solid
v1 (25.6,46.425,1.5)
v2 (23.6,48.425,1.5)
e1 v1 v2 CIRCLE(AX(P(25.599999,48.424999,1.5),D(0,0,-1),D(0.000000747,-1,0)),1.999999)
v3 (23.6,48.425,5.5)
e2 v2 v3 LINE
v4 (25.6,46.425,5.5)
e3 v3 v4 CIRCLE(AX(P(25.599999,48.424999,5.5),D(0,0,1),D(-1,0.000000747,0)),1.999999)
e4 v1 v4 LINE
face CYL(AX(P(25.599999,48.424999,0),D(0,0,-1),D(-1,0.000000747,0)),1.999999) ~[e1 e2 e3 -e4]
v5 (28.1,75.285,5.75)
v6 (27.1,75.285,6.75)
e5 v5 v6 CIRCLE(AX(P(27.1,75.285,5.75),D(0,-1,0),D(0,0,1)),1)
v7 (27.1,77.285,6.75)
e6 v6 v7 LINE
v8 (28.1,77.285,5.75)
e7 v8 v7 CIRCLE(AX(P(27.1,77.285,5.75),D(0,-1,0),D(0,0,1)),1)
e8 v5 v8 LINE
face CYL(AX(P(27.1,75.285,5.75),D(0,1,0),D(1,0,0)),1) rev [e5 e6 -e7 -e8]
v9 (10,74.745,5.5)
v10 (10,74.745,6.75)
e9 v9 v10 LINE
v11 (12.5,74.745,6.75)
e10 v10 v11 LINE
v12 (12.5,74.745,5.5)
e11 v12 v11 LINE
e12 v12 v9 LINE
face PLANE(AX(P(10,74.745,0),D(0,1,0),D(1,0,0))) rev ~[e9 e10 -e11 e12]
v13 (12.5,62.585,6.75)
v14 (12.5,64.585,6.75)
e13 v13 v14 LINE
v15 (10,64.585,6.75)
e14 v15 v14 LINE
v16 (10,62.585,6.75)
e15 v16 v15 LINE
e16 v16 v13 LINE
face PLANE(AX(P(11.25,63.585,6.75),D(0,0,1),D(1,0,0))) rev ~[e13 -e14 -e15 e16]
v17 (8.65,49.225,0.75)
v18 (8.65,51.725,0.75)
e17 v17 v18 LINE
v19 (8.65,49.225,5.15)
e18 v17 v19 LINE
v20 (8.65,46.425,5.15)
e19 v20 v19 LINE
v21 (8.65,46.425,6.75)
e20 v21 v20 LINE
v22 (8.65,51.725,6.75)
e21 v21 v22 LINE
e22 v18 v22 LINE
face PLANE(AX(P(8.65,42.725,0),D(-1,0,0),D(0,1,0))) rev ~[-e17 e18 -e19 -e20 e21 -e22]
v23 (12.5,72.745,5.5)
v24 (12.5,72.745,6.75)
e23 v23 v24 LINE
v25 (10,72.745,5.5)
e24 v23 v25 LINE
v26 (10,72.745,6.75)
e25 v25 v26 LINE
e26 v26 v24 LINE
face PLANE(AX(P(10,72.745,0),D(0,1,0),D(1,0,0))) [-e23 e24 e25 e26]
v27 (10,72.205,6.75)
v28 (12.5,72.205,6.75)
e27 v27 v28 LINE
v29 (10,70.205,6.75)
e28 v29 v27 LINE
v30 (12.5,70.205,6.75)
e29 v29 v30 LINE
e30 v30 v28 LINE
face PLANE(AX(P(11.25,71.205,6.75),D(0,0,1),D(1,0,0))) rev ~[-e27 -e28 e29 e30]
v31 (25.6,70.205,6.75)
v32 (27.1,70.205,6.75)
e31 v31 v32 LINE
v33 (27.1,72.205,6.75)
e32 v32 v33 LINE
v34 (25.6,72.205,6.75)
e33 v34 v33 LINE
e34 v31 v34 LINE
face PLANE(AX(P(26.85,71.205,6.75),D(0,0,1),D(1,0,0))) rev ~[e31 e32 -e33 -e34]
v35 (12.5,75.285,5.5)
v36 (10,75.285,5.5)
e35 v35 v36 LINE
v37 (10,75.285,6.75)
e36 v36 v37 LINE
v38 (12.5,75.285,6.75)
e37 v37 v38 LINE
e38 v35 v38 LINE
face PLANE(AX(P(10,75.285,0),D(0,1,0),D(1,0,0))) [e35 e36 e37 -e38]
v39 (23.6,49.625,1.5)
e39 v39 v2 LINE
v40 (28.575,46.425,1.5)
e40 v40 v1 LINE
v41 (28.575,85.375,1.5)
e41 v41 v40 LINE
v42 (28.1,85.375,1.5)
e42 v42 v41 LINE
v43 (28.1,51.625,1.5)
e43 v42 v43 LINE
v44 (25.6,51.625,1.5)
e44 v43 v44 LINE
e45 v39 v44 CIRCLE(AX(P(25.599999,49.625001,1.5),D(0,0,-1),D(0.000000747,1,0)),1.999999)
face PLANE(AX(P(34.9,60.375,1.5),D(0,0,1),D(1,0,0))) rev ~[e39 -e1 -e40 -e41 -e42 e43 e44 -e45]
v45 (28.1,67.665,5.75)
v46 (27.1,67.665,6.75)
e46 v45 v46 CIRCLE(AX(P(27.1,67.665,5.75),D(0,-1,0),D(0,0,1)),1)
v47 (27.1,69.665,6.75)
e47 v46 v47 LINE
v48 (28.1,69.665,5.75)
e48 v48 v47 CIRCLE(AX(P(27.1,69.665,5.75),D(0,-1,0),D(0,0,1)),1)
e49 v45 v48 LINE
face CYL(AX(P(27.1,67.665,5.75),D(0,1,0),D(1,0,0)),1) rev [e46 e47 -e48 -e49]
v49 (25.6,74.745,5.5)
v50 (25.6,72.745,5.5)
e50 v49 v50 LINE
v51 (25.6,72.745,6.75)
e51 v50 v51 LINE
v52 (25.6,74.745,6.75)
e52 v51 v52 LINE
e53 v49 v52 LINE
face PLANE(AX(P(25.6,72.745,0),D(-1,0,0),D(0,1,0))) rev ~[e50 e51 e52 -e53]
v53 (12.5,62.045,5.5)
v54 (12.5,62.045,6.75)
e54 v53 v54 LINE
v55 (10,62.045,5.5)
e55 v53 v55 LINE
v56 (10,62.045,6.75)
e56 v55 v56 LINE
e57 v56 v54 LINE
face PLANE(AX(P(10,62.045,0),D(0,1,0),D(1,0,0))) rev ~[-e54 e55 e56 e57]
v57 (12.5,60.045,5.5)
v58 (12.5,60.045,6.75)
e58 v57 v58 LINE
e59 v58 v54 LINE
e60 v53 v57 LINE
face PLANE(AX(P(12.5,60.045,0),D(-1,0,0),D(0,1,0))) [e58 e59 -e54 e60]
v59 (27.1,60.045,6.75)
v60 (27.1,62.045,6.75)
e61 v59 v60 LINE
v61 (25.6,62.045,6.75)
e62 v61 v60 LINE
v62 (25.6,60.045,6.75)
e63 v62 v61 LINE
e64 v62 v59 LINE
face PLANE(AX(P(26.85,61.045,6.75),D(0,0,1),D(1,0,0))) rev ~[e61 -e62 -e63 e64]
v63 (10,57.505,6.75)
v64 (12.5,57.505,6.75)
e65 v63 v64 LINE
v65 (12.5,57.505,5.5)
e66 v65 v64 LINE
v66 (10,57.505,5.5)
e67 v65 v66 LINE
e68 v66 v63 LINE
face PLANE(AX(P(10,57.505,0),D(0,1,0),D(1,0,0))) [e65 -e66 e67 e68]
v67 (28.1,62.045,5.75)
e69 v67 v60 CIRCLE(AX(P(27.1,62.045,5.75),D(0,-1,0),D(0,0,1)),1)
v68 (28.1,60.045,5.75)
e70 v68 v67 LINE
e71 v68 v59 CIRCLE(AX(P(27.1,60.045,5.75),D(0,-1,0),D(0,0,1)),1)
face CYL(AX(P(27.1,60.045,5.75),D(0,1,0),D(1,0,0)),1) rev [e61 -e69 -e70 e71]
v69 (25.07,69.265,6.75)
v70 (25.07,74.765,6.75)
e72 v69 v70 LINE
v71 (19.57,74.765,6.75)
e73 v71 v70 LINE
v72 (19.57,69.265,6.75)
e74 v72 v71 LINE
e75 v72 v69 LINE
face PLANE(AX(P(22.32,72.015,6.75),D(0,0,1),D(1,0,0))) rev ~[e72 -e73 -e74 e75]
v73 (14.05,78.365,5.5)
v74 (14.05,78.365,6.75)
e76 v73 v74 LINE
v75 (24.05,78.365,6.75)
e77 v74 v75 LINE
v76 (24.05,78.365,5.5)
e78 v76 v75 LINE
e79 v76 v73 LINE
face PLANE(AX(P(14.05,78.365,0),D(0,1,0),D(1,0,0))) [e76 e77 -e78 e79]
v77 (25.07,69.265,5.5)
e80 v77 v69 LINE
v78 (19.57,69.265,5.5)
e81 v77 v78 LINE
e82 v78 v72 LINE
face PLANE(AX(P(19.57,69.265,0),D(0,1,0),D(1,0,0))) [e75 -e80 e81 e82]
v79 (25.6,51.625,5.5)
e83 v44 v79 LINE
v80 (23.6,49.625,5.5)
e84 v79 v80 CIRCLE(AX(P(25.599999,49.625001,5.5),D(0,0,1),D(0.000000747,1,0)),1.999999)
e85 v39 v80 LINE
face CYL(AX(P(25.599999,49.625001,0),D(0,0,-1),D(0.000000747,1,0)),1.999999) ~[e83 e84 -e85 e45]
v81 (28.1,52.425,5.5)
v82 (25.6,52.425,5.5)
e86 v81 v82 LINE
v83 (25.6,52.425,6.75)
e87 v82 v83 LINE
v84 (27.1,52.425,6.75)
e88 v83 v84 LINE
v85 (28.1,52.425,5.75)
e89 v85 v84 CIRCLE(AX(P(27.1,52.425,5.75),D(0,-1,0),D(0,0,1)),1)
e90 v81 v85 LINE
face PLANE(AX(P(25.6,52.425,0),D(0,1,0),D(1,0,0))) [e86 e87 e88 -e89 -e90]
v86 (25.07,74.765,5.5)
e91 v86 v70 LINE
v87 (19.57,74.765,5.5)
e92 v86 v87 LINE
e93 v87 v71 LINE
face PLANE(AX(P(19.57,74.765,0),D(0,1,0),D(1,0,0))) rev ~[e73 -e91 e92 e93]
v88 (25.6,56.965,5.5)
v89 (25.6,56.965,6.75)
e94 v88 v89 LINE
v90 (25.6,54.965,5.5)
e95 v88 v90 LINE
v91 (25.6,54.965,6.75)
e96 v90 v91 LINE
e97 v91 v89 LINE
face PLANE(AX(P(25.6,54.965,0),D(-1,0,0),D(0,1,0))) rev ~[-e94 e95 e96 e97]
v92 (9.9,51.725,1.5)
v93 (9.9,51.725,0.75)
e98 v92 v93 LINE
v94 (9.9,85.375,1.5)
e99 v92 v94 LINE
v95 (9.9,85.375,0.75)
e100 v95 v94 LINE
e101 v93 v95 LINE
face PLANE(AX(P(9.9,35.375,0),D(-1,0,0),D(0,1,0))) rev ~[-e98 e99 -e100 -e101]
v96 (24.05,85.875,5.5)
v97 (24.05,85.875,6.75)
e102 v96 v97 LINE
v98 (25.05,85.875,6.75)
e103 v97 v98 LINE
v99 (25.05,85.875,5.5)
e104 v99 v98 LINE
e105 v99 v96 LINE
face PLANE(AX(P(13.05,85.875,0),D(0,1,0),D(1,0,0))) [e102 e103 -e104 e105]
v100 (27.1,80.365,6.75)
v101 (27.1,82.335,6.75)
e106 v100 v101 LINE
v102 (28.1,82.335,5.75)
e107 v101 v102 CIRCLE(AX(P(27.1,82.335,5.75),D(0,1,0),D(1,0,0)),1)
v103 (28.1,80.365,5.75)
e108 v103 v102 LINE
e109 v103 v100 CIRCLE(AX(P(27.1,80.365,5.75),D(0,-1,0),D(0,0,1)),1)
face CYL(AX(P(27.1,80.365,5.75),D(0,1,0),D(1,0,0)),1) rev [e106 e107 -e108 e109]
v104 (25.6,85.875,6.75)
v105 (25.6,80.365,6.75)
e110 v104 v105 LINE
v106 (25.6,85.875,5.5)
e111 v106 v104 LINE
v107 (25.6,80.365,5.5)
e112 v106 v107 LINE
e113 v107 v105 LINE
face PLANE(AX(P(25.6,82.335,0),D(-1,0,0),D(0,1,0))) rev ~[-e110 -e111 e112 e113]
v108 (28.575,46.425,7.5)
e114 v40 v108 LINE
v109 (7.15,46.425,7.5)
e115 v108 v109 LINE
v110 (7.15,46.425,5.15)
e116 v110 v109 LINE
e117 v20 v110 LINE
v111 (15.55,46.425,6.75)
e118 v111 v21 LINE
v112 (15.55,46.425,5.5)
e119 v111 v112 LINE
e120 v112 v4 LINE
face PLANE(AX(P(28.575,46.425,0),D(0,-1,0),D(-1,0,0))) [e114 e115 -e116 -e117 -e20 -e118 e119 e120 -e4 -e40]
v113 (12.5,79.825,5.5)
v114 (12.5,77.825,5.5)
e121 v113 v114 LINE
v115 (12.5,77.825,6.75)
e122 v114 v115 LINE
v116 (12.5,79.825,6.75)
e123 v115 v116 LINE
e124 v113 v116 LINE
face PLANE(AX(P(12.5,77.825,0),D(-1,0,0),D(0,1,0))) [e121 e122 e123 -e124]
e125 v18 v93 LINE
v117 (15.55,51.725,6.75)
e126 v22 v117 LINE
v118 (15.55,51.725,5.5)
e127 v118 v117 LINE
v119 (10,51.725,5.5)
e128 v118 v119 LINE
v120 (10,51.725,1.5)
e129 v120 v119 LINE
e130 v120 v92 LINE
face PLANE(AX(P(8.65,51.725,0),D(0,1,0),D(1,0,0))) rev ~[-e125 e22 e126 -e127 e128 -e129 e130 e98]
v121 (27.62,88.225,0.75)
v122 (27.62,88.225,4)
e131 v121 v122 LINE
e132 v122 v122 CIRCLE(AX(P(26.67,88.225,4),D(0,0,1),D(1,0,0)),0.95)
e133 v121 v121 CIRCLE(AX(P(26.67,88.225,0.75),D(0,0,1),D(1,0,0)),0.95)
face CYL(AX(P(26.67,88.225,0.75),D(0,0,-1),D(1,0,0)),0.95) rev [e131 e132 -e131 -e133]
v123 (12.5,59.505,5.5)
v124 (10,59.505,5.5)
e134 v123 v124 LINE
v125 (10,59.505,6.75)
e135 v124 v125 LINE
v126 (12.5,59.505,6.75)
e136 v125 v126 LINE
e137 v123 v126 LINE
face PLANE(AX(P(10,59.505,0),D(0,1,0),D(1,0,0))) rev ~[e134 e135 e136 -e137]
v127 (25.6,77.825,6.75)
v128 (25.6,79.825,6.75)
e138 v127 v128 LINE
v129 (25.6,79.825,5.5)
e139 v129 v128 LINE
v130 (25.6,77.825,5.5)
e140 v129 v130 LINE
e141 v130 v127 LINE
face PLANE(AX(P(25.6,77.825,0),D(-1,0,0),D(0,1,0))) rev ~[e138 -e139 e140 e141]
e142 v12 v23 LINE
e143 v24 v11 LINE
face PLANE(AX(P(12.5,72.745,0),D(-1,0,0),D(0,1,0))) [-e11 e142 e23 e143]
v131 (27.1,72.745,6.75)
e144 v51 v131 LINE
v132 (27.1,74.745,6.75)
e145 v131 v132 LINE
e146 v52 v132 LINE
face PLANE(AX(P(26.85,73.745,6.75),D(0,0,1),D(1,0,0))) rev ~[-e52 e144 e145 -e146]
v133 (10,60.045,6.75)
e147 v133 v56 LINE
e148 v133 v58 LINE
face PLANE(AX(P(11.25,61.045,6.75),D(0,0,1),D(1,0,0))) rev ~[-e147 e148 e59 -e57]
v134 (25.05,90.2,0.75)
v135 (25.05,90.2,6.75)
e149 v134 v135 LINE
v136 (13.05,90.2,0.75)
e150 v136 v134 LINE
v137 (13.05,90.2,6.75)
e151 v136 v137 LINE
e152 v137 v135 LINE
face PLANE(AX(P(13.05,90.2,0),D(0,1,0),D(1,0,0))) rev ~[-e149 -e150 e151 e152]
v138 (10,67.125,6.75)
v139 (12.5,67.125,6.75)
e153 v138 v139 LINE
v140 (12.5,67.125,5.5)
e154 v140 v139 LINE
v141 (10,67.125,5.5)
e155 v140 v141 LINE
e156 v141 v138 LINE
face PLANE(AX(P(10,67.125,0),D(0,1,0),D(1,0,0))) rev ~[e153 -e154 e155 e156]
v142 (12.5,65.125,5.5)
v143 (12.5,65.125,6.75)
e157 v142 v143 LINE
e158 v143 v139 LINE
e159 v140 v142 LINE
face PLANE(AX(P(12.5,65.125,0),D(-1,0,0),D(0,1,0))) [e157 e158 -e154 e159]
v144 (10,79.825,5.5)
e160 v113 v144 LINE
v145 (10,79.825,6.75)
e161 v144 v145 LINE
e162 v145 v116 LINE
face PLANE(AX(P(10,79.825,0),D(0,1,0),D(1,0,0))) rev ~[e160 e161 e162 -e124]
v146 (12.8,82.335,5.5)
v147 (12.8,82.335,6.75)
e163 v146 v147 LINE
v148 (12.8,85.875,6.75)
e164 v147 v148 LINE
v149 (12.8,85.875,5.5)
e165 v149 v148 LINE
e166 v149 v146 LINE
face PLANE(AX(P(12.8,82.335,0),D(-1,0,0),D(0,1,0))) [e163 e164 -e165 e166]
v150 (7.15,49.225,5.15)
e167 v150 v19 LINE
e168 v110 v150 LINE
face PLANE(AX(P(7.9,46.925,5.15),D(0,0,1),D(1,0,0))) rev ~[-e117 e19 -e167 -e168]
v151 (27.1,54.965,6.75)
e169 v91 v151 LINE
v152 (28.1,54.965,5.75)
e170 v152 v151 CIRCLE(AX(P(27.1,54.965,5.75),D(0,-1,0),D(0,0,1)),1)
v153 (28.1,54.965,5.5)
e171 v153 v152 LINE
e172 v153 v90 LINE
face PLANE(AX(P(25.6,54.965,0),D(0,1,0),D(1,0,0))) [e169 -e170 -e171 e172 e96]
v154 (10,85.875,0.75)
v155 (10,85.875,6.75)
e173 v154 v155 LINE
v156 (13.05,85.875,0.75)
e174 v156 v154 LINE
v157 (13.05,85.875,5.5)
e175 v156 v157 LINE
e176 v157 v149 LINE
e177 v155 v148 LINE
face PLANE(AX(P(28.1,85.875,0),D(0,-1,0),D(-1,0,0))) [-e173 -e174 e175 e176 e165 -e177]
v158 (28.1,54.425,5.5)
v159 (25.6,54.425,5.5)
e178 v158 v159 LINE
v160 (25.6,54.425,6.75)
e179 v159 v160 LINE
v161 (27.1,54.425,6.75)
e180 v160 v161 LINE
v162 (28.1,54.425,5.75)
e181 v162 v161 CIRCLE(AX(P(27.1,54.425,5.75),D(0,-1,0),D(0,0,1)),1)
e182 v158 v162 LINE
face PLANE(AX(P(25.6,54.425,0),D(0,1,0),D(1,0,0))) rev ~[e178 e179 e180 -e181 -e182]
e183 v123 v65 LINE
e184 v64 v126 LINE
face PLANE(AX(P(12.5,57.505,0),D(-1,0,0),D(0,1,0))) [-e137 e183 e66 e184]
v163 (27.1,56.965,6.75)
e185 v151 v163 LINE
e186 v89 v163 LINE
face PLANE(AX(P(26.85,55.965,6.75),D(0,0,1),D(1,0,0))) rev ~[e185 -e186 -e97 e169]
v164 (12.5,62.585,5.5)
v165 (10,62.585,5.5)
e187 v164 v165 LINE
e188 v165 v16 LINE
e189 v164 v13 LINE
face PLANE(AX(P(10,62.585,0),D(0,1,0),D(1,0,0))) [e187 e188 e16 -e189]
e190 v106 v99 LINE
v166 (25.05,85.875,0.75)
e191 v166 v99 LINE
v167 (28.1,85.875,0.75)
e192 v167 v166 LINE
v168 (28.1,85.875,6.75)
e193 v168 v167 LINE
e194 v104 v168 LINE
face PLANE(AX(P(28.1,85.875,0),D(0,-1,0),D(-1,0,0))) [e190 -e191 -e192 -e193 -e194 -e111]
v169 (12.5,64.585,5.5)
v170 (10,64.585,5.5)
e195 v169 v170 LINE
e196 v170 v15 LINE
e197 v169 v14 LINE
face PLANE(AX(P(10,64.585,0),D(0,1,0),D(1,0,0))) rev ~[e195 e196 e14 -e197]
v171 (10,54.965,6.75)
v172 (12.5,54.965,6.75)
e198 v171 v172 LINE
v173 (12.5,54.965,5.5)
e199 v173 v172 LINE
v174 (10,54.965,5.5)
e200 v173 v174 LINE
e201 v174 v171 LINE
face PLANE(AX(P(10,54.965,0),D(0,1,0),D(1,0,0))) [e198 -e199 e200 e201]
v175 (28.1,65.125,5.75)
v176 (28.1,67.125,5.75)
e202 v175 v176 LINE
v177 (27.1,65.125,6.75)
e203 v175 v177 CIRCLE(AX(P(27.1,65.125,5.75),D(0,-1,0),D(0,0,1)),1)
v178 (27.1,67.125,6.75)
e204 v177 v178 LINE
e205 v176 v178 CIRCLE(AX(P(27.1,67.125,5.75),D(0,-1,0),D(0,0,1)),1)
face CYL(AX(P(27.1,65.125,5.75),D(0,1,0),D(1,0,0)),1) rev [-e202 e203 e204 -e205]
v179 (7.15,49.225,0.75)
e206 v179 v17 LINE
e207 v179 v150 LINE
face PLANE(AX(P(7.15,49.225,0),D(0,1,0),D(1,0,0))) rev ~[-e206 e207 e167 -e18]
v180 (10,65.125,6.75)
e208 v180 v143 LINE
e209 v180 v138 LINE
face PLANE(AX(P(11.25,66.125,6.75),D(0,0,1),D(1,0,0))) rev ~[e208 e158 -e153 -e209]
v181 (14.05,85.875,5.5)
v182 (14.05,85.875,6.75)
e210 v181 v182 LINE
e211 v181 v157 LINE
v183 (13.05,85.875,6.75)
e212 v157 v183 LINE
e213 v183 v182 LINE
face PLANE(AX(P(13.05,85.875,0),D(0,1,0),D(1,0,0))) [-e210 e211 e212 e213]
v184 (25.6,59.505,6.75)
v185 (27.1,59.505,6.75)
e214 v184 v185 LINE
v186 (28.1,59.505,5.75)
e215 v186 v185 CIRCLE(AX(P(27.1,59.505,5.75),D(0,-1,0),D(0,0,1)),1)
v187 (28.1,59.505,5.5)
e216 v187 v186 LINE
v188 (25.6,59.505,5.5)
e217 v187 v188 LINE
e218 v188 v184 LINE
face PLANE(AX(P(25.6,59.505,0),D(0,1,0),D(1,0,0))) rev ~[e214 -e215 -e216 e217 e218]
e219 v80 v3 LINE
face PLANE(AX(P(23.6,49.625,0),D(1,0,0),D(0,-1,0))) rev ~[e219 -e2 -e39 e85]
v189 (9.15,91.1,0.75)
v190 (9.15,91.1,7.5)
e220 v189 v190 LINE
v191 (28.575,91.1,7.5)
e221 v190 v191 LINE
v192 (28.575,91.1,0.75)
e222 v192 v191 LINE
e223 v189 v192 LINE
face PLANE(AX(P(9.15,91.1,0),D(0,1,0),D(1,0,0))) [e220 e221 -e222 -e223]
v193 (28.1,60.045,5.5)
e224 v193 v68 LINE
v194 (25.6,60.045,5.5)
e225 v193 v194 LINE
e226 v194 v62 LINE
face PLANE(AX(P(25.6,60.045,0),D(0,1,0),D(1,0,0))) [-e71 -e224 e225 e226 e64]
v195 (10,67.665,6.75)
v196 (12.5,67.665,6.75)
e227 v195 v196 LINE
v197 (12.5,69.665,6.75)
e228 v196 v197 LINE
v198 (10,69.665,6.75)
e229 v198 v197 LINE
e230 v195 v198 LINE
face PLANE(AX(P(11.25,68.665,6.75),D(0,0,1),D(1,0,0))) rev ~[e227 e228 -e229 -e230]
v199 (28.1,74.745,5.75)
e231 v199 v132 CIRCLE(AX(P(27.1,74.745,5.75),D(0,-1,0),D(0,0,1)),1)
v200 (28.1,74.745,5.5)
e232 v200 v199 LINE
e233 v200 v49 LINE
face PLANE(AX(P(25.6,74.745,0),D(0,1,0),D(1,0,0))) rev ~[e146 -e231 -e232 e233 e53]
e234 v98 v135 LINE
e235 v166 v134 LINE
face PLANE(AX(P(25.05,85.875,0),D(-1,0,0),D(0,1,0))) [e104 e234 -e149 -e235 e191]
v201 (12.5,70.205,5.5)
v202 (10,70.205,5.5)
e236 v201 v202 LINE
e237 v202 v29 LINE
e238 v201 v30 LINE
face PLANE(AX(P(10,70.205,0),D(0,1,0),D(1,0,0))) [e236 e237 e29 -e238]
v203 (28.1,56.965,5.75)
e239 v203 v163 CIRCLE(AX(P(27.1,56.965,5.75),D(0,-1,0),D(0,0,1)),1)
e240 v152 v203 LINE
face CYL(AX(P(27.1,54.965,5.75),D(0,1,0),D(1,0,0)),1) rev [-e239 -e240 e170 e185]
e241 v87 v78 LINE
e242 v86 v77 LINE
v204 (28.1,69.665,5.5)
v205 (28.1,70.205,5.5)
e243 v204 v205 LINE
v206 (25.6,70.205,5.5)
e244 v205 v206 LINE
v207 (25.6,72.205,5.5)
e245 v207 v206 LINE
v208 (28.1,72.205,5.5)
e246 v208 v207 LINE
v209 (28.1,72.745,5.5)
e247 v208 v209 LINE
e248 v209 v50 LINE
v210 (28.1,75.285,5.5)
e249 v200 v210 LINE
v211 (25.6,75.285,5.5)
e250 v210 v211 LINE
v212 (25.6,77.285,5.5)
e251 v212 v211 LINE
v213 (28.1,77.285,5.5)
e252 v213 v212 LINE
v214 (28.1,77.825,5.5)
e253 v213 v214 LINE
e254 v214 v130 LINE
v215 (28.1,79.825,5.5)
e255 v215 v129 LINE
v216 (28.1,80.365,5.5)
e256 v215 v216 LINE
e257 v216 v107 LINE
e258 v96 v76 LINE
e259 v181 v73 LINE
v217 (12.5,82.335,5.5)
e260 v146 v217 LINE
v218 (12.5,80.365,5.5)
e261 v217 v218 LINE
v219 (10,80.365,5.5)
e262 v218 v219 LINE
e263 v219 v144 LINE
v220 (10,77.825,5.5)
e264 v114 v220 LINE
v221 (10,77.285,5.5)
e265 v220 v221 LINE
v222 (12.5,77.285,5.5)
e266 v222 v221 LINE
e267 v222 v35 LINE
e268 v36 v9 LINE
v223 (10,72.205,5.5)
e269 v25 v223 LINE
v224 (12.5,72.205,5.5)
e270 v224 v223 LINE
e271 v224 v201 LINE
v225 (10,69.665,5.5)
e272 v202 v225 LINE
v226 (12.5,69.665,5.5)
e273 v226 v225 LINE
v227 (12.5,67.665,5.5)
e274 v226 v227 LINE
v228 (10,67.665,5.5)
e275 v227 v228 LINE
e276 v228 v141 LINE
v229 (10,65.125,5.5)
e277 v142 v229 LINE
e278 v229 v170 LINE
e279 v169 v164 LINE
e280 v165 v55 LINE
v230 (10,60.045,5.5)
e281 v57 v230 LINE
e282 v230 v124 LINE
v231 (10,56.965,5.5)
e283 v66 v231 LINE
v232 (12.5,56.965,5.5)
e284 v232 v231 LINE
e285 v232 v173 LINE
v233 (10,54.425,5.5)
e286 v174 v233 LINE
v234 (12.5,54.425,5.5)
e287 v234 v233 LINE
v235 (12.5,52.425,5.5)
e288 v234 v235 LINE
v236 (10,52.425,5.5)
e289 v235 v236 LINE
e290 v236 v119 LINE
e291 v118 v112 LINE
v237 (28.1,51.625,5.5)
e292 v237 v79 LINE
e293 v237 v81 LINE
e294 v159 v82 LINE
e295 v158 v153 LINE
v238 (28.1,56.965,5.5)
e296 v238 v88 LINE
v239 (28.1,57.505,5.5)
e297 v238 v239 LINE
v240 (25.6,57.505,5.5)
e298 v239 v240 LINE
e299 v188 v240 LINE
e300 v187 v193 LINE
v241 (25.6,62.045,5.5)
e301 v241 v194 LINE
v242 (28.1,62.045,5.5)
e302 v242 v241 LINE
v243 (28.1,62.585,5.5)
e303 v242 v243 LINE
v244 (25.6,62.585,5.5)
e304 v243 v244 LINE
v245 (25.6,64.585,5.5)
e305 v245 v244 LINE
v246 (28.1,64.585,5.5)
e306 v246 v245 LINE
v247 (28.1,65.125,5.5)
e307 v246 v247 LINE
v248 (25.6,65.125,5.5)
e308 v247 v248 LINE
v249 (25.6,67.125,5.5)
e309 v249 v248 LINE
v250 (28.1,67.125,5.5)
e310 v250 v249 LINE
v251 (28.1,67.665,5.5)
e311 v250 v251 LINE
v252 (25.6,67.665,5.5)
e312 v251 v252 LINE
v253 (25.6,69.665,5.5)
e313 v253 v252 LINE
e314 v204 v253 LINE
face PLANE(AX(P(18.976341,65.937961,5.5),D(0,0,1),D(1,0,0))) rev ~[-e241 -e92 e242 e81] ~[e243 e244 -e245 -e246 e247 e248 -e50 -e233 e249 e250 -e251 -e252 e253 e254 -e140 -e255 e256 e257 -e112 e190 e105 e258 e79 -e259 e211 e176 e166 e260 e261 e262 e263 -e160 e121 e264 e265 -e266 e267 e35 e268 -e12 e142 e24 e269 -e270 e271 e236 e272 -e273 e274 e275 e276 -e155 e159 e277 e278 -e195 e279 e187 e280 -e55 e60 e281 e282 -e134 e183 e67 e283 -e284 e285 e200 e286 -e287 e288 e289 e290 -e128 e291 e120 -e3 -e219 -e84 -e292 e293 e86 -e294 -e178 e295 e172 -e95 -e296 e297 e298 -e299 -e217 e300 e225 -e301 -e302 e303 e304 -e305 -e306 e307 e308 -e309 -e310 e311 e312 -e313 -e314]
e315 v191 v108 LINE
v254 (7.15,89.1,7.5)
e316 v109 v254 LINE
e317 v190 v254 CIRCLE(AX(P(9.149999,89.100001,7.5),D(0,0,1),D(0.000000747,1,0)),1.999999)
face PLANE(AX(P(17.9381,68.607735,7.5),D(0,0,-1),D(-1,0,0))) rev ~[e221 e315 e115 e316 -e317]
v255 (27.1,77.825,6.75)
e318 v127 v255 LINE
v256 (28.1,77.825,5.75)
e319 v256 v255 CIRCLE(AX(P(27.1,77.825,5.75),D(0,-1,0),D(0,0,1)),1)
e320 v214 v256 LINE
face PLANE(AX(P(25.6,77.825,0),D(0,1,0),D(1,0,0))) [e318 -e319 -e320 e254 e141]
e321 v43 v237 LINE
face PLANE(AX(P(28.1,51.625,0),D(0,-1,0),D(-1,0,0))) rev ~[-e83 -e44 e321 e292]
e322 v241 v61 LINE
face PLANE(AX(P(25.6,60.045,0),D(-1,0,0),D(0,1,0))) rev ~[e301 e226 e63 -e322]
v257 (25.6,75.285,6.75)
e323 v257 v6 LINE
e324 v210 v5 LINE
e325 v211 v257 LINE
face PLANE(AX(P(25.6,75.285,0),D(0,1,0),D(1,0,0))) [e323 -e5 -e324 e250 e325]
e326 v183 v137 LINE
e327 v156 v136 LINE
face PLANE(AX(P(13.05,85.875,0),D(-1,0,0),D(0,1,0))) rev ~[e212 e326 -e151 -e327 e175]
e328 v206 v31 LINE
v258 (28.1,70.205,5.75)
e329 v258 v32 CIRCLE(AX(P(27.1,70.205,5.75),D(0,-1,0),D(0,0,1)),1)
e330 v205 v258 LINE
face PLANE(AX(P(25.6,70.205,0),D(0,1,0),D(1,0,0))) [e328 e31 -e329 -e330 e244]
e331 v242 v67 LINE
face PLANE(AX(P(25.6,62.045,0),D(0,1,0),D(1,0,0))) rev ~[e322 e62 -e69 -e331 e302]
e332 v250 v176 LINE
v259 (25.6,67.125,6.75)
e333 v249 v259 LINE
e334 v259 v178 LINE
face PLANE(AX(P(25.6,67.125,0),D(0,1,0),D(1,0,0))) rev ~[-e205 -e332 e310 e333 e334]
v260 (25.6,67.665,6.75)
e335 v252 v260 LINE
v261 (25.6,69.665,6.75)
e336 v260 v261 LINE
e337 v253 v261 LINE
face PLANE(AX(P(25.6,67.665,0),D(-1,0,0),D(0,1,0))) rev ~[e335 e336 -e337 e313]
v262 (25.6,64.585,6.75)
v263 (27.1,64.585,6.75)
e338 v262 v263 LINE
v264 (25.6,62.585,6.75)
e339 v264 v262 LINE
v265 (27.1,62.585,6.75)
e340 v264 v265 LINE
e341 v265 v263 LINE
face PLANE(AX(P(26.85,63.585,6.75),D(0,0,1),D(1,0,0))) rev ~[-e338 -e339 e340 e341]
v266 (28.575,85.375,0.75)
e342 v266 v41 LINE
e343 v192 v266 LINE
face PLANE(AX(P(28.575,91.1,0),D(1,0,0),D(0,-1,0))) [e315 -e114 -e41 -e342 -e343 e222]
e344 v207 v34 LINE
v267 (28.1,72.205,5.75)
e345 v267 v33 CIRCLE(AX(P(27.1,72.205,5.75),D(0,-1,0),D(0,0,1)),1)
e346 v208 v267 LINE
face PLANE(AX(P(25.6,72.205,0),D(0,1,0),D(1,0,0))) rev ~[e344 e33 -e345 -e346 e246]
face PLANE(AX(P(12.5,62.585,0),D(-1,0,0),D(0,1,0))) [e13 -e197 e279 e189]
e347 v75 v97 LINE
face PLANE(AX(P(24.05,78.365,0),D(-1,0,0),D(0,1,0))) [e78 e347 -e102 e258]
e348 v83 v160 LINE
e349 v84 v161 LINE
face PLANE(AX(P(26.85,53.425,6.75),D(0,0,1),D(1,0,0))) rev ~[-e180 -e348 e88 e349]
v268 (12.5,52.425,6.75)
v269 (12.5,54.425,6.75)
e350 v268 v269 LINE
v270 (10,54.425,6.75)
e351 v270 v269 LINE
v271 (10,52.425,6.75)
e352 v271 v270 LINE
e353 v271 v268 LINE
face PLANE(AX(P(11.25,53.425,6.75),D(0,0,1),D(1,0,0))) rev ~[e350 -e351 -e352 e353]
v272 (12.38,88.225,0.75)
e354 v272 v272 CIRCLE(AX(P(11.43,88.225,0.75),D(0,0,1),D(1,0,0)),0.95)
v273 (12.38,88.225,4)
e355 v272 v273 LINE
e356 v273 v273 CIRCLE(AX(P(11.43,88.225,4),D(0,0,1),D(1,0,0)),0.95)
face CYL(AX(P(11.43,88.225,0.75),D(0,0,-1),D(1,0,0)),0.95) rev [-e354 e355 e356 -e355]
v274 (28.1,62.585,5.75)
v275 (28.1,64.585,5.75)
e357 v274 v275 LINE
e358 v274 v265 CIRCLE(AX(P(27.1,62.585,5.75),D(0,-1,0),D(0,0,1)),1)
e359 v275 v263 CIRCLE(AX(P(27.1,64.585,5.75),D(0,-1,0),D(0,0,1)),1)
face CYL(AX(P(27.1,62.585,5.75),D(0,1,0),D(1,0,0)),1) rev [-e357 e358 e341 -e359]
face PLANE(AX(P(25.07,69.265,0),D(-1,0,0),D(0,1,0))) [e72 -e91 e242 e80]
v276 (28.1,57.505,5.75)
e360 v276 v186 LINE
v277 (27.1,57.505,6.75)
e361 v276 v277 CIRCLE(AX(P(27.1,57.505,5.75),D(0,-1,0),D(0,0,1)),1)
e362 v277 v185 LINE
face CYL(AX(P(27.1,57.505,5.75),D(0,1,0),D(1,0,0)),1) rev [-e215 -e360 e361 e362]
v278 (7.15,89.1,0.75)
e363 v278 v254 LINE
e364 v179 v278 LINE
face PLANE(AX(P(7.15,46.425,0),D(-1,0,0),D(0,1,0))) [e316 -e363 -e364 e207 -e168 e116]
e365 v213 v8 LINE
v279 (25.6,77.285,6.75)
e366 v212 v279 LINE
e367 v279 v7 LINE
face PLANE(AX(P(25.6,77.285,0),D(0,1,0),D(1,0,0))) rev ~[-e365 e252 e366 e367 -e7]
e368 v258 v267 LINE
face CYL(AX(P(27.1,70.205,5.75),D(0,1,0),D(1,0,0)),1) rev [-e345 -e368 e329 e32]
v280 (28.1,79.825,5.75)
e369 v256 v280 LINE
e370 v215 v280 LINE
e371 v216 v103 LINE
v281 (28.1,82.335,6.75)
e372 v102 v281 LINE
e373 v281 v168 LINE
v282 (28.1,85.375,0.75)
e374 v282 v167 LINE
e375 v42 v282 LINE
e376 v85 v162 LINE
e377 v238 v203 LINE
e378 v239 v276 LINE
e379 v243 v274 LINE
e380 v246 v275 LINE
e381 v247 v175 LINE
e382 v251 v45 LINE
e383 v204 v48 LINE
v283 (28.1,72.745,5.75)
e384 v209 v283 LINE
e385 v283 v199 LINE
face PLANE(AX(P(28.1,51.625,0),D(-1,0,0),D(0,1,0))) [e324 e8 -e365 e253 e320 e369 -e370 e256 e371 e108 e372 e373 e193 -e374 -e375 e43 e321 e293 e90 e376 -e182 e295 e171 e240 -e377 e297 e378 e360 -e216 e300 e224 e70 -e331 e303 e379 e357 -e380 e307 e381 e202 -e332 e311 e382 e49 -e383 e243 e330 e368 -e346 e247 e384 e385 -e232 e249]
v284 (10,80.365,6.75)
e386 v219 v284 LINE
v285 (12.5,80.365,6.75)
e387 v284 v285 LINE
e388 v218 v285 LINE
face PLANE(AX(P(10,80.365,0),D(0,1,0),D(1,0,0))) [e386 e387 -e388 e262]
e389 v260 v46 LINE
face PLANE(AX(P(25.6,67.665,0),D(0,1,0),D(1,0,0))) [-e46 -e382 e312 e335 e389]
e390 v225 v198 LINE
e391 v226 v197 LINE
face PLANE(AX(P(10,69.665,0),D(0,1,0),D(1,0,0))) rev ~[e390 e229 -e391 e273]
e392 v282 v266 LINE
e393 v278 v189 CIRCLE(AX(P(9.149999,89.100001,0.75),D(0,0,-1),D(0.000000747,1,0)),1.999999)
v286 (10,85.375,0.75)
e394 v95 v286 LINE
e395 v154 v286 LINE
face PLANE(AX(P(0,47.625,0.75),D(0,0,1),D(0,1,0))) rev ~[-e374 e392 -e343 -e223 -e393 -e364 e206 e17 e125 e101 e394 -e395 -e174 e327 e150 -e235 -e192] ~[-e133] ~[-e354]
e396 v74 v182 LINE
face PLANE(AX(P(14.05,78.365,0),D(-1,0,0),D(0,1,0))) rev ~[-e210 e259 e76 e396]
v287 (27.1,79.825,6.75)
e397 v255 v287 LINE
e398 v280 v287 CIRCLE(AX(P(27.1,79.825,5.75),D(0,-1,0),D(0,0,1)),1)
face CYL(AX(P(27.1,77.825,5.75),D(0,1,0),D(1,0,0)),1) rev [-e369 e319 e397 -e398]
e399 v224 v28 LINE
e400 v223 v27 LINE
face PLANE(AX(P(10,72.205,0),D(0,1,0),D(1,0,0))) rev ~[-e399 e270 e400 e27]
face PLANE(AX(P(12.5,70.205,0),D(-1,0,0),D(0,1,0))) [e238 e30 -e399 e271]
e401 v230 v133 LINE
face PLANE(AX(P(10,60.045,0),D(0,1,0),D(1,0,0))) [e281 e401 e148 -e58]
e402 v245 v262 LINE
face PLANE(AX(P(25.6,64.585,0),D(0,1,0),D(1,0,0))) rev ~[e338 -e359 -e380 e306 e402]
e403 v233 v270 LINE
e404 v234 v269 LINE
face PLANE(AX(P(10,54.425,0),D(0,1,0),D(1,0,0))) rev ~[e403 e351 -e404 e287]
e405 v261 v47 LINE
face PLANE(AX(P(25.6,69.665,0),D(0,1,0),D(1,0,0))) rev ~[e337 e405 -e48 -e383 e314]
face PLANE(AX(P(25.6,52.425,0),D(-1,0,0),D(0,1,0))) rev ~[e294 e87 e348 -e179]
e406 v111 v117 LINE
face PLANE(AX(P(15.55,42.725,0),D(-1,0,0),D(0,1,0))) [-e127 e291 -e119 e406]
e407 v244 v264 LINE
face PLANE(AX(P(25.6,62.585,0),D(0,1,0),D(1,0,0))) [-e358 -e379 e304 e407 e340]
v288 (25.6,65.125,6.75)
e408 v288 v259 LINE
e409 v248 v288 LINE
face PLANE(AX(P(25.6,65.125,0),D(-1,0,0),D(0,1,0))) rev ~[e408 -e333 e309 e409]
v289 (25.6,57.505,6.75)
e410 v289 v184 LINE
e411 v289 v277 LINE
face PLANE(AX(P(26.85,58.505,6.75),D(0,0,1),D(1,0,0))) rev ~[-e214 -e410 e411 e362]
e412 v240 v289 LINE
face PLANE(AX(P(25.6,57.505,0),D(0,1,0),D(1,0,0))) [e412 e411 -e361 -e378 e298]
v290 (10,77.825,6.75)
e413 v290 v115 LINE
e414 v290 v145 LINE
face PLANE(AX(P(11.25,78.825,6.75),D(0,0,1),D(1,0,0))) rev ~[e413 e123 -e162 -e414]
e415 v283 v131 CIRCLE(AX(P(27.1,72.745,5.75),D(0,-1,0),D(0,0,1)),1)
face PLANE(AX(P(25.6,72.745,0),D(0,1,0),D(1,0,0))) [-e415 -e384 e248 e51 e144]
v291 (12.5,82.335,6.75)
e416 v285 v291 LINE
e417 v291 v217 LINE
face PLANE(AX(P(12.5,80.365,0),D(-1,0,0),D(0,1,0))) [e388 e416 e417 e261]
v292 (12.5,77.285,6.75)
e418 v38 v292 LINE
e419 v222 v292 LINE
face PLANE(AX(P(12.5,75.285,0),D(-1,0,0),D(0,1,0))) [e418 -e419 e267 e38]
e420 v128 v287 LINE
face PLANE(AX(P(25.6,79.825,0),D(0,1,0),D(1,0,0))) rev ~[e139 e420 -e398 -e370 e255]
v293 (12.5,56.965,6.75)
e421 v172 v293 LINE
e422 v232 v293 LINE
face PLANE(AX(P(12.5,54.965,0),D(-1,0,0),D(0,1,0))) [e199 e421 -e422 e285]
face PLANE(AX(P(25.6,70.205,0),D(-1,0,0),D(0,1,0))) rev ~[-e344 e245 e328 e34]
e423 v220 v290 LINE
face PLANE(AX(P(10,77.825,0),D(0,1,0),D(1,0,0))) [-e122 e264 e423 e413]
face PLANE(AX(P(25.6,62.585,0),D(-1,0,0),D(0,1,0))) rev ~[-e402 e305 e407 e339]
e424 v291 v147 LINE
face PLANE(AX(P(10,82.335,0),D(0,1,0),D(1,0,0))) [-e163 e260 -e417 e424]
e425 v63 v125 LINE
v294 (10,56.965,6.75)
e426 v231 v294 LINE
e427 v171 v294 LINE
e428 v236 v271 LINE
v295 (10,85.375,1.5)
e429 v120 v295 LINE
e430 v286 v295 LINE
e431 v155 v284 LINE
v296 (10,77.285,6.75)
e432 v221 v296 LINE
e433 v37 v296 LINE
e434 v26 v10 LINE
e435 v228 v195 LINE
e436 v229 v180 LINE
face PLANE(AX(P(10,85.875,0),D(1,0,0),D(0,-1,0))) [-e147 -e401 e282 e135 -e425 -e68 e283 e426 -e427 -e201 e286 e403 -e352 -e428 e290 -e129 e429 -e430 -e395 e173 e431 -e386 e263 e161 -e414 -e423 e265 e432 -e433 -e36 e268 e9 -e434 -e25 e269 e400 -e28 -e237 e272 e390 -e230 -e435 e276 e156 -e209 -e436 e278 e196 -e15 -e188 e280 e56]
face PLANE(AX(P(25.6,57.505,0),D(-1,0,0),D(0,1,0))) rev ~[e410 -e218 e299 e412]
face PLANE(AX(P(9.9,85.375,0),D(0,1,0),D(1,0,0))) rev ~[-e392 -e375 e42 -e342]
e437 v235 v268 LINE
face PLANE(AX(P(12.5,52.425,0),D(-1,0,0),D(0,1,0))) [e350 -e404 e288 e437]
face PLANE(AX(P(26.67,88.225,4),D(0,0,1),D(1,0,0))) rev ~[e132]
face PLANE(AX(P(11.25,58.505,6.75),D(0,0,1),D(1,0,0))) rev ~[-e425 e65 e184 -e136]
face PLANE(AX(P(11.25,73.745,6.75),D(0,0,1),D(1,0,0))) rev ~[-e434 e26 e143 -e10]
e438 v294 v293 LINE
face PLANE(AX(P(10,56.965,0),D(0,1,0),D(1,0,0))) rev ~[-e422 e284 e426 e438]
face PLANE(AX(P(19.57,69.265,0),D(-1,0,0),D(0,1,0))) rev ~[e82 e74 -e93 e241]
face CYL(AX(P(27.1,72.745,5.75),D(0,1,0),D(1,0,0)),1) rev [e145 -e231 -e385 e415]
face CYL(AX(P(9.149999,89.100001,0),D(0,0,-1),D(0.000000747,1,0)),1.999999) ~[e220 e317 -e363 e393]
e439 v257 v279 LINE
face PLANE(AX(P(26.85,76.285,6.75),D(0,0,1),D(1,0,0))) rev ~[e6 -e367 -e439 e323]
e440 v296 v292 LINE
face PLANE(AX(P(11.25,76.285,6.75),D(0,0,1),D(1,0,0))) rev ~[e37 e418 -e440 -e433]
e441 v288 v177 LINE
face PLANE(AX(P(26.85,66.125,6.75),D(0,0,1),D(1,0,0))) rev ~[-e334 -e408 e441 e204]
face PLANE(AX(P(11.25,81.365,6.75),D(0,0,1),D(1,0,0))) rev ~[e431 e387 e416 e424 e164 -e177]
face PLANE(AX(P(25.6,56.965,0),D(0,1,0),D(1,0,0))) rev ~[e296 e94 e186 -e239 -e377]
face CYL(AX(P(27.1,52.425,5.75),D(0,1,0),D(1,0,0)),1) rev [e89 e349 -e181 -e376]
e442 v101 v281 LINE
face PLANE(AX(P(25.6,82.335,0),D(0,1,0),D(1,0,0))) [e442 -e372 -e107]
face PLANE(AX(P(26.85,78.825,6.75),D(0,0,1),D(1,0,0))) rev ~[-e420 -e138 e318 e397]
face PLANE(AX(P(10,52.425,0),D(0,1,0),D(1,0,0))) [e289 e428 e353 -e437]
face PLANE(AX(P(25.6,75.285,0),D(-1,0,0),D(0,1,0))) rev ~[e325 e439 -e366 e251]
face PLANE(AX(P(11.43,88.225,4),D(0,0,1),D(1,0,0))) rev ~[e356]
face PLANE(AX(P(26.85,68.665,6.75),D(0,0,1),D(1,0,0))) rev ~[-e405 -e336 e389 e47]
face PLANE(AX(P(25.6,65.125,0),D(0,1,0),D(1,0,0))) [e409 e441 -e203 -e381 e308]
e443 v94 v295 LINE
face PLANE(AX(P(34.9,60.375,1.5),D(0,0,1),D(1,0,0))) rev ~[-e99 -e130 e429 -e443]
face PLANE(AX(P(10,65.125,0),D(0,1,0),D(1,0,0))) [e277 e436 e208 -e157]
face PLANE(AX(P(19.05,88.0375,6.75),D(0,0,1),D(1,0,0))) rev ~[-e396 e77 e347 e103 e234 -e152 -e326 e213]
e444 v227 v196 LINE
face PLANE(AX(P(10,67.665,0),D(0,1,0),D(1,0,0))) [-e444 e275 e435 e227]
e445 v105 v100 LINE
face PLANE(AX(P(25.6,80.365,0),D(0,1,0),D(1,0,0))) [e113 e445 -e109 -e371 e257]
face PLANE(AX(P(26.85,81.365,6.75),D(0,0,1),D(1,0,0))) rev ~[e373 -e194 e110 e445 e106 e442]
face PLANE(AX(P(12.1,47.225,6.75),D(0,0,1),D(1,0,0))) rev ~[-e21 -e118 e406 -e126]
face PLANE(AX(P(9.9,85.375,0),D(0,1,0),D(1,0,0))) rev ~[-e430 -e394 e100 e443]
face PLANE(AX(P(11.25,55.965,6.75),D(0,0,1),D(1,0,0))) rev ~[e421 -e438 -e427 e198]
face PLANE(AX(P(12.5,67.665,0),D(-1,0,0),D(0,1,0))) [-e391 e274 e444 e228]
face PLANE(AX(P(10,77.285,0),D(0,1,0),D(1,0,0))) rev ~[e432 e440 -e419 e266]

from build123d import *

# Parameters (mm, degrees)
PAD018_DEPTH    = 7.5
POCKET031_DEPTH = 5.5
SKETCH104_W     = 12
SKETCH104_H     = 4.325
POCKET070_DEPTH = 6.75
SKETCH054_W     = 50
SKETCH054_H     = 50
POCKET030_DEPTH = 1.5
SKETCH060_W     = 10
SKETCH060_H     = 8
SKETCH060_W_2   = 5.5
SKETCH060_H_2   = 5.5
SKETCH060_W_3   = 6.9
SKETCH060_H_3   = 9
SKETCH060_W_4   = 2.5
SKETCH060_H_4   = 2
POCKET034_DEPTH = 6.75
FILLET007_R     = 1
SKETCH087_W     = 2.8
SKETCH087_H     = 3.54
SKETCH087_W_2   = 2.5
POCKET058_DEPTH = 6.75
SKETCH084_W     = 1.5
SKETCH084_H     = 4.6
POCKET055_DEPTH = 5.15
SKETCH091_W     = 43.475
SKETCH091_H     = 0.75
POCKET060_DEPTH = 28.576
SKETCH093_W     = 37.75
SKETCH093_H     = 0.75
POCKET062_DEPTH = 9.526
SKETCH067_R     = 0.95
POCKET044_DEPTH = 3.25


with BuildPart() as part:
    # Sketch053 → Pad018 (new body)
    with BuildSketch(Plane.XY):
        with BuildLine():
            Line((28.575, 91.1), (28.575, 46.425))
            Line((28.575, 46.425), (7.15, 46.425))
            Line((7.15, 46.425), (7.15, 89.1))
            ThreePointArc((9.15, 91.1), (7.735786, 90.514214), (7.15, 89.1))
            Line((9.15, 91.1), (28.575, 91.1))
        make_face()
    extrude(amount=PAD018_DEPTH)

    # Sketch055 → Pocket031 (cut)
    with BuildSketch(Plane.XY):
        with BuildLine():
            Line((28.1, 51.625), (28.1, 85.875))
            Line((28.1, 85.875), (10, 85.875))
            Line((10, 85.875), (10, 46.425))
            Line((10, 46.425), (25.6, 46.425))
            ThreePointArc((23.6, 48.425), (24.185786, 47.010786), (25.6, 46.425))
            Line((23.6, 49.625), (23.6, 48.425))
            ThreePointArc((25.6, 51.625), (24.185786, 51.039214), (23.6, 49.625))
            Line((28.1, 51.625), (25.6, 51.625))
        make_face()
    extrude(amount=POCKET031_DEPTH, mode=Mode.SUBTRACT)

    # Sketch104 → Pocket070 (cut)
    with BuildSketch(Plane.XY):
        with Locations((19.05, 88.0375)):
            Rectangle(SKETCH104_W, SKETCH104_H)
    extrude(amount=POCKET070_DEPTH, mode=Mode.SUBTRACT)

    # Sketch054 → Pocket030 (cut)
    with BuildSketch(Plane.XY):
        with Locations((34.9, 60.375)):
            Rectangle(SKETCH054_W, SKETCH054_H)
    extrude(amount=POCKET030_DEPTH, mode=Mode.SUBTRACT)

    # Sketch060 → Pocket034 (cut)
    with BuildSketch(Plane.XY):
        with Locations((19.05, 82.365)):
            Rectangle(SKETCH060_W, SKETCH060_H)
        with Locations((22.32, 72.015)):
            Rectangle(SKETCH060_W_2, SKETCH060_H_2)
        with Locations((12.1, 47.225)):
            Rectangle(SKETCH060_W_3, SKETCH060_H_3)
        with Locations((26.85, 78.825)):
            Rectangle(SKETCH060_W_4, SKETCH060_H_4)
        with Locations((26.85, 76.285)):
            Rectangle(SKETCH060_W_4, SKETCH060_H_4)
        with Locations((26.85, 73.745)):
            Rectangle(SKETCH060_W_4, SKETCH060_H_4)
        with Locations((26.85, 71.205)):
            Rectangle(SKETCH060_W_4, SKETCH060_H_4)
        with Locations((26.85, 68.665)):
            Rectangle(SKETCH060_W_4, SKETCH060_H_4)
        with Locations((26.85, 66.125)):
            Rectangle(SKETCH060_W_4, SKETCH060_H_4)
        with Locations((26.85, 63.585)):
            Rectangle(SKETCH060_W_4, SKETCH060_H_4)
        with Locations((26.85, 81.365)):
            Rectangle(SKETCH060_W_4, SKETCH060_H_4)
        with Locations((26.85, 61.045)):
            Rectangle(SKETCH060_W_4, SKETCH060_H_4)
        with Locations((26.85, 58.505)):
            Rectangle(SKETCH060_W_4, SKETCH060_H_4)
        with Locations((26.85, 55.965)):
            Rectangle(SKETCH060_W_4, SKETCH060_H_4)
        with Locations((26.85, 53.425)):
            Rectangle(SKETCH060_W_4, SKETCH060_H_4)
        with Locations((11.25, 78.825)):
            Rectangle(SKETCH060_W_4, SKETCH060_H_4)
        with Locations((11.25, 76.285)):
            Rectangle(SKETCH060_W_4, SKETCH060_H_4)
        with Locations((11.25, 73.745)):
            Rectangle(SKETCH060_W_4, SKETCH060_H_4)
        with Locations((11.25, 71.205)):
            Rectangle(SKETCH060_W_4, SKETCH060_H_4)
        with Locations((11.25, 68.665)):
            Rectangle(SKETCH060_W_4, SKETCH060_H_4)
        with Locations((11.25, 66.125)):
            Rectangle(SKETCH060_W_4, SKETCH060_H_4)
        with Locations((11.25, 63.585)):
            Rectangle(SKETCH060_W_4, SKETCH060_H_4)
        with Locations((11.25, 61.045)):
            Rectangle(SKETCH060_W_4, SKETCH060_H_4)
        with Locations((11.25, 58.505)):
            Rectangle(SKETCH060_W_4, SKETCH060_H_4)
        with Locations((11.25, 55.965)):
            Rectangle(SKETCH060_W_4, SKETCH060_H_4)
        with Locations((11.25, 53.425)):
            Rectangle(SKETCH060_W_4, SKETCH060_H_4)
        with Locations((11.25, 81.365)):
            Rectangle(SKETCH060_W_4, SKETCH060_H_4)
    extrude(amount=POCKET034_DEPTH, mode=Mode.SUBTRACT)

    # Fillet007
    fillet007_edges = [part.edges().sort_by_distance(p)[0] for p in [
        (28.1, 53.425, 6.75),
        (28.1, 55.965, 6.75),
        (28.1, 58.505, 6.75),
        (28.1, 61.045, 6.75),
        (28.1, 63.585, 6.75),
        (28.1, 66.125, 6.75),
        (28.1, 68.665, 6.75),
        (28.1, 71.205, 6.75),
        (28.1, 73.745, 6.75),
        (28.1, 76.285, 6.75),
        (28.1, 78.825, 6.75),
        (28.1, 81.365, 6.75),
    ]]
    fillet(fillet007_edges, radius=FILLET007_R)

    # Sketch087 → Pocket058 (cut)
    with BuildSketch(Plane.XY):
        with Locations((11.4, 84.105)):
            Rectangle(SKETCH087_W, SKETCH087_H)
        with Locations((26.85, 84.105)):
            Rectangle(SKETCH087_W_2, SKETCH087_H)
    extrude(amount=POCKET058_DEPTH, mode=Mode.SUBTRACT)

    # Sketch084 → Pocket055 (cut)
    with BuildSketch(Plane.XY):
        with Locations((7.9, 46.925)):
            Rectangle(SKETCH084_W, SKETCH084_H)
    extrude(amount=POCKET055_DEPTH, mode=Mode.SUBTRACT)

    # Sketch091 → Pocket060 (cut, through all)
    with BuildSketch(Plane.YZ):
        with Locations((69.3625, 0.375)):
            Rectangle(SKETCH091_W, SKETCH091_H)
    extrude(amount=POCKET060_DEPTH, mode=Mode.SUBTRACT)

    # Sketch093 → Pocket062 (cut, through all)
    with BuildSketch(Plane.YZ.offset(19.05)):
        with Locations((66.5, 1.125)):
            Rectangle(SKETCH093_W, SKETCH093_H)
    extrude(amount=POCKET062_DEPTH, mode=Mode.SUBTRACT)

    # Sketch067 (on Face9 of Pocket062) → Pocket044 (cut)
    with BuildSketch(Plane.XY.offset(0.75)):
        with Locations((26.67, 88.225)):
            Circle(SKETCH067_R)
        with Locations((11.43, 88.225)):
            Circle(SKETCH067_R)
    extrude(amount=POCKET044_DEPTH, mode=Mode.SUBTRACT)


solid = part.part
